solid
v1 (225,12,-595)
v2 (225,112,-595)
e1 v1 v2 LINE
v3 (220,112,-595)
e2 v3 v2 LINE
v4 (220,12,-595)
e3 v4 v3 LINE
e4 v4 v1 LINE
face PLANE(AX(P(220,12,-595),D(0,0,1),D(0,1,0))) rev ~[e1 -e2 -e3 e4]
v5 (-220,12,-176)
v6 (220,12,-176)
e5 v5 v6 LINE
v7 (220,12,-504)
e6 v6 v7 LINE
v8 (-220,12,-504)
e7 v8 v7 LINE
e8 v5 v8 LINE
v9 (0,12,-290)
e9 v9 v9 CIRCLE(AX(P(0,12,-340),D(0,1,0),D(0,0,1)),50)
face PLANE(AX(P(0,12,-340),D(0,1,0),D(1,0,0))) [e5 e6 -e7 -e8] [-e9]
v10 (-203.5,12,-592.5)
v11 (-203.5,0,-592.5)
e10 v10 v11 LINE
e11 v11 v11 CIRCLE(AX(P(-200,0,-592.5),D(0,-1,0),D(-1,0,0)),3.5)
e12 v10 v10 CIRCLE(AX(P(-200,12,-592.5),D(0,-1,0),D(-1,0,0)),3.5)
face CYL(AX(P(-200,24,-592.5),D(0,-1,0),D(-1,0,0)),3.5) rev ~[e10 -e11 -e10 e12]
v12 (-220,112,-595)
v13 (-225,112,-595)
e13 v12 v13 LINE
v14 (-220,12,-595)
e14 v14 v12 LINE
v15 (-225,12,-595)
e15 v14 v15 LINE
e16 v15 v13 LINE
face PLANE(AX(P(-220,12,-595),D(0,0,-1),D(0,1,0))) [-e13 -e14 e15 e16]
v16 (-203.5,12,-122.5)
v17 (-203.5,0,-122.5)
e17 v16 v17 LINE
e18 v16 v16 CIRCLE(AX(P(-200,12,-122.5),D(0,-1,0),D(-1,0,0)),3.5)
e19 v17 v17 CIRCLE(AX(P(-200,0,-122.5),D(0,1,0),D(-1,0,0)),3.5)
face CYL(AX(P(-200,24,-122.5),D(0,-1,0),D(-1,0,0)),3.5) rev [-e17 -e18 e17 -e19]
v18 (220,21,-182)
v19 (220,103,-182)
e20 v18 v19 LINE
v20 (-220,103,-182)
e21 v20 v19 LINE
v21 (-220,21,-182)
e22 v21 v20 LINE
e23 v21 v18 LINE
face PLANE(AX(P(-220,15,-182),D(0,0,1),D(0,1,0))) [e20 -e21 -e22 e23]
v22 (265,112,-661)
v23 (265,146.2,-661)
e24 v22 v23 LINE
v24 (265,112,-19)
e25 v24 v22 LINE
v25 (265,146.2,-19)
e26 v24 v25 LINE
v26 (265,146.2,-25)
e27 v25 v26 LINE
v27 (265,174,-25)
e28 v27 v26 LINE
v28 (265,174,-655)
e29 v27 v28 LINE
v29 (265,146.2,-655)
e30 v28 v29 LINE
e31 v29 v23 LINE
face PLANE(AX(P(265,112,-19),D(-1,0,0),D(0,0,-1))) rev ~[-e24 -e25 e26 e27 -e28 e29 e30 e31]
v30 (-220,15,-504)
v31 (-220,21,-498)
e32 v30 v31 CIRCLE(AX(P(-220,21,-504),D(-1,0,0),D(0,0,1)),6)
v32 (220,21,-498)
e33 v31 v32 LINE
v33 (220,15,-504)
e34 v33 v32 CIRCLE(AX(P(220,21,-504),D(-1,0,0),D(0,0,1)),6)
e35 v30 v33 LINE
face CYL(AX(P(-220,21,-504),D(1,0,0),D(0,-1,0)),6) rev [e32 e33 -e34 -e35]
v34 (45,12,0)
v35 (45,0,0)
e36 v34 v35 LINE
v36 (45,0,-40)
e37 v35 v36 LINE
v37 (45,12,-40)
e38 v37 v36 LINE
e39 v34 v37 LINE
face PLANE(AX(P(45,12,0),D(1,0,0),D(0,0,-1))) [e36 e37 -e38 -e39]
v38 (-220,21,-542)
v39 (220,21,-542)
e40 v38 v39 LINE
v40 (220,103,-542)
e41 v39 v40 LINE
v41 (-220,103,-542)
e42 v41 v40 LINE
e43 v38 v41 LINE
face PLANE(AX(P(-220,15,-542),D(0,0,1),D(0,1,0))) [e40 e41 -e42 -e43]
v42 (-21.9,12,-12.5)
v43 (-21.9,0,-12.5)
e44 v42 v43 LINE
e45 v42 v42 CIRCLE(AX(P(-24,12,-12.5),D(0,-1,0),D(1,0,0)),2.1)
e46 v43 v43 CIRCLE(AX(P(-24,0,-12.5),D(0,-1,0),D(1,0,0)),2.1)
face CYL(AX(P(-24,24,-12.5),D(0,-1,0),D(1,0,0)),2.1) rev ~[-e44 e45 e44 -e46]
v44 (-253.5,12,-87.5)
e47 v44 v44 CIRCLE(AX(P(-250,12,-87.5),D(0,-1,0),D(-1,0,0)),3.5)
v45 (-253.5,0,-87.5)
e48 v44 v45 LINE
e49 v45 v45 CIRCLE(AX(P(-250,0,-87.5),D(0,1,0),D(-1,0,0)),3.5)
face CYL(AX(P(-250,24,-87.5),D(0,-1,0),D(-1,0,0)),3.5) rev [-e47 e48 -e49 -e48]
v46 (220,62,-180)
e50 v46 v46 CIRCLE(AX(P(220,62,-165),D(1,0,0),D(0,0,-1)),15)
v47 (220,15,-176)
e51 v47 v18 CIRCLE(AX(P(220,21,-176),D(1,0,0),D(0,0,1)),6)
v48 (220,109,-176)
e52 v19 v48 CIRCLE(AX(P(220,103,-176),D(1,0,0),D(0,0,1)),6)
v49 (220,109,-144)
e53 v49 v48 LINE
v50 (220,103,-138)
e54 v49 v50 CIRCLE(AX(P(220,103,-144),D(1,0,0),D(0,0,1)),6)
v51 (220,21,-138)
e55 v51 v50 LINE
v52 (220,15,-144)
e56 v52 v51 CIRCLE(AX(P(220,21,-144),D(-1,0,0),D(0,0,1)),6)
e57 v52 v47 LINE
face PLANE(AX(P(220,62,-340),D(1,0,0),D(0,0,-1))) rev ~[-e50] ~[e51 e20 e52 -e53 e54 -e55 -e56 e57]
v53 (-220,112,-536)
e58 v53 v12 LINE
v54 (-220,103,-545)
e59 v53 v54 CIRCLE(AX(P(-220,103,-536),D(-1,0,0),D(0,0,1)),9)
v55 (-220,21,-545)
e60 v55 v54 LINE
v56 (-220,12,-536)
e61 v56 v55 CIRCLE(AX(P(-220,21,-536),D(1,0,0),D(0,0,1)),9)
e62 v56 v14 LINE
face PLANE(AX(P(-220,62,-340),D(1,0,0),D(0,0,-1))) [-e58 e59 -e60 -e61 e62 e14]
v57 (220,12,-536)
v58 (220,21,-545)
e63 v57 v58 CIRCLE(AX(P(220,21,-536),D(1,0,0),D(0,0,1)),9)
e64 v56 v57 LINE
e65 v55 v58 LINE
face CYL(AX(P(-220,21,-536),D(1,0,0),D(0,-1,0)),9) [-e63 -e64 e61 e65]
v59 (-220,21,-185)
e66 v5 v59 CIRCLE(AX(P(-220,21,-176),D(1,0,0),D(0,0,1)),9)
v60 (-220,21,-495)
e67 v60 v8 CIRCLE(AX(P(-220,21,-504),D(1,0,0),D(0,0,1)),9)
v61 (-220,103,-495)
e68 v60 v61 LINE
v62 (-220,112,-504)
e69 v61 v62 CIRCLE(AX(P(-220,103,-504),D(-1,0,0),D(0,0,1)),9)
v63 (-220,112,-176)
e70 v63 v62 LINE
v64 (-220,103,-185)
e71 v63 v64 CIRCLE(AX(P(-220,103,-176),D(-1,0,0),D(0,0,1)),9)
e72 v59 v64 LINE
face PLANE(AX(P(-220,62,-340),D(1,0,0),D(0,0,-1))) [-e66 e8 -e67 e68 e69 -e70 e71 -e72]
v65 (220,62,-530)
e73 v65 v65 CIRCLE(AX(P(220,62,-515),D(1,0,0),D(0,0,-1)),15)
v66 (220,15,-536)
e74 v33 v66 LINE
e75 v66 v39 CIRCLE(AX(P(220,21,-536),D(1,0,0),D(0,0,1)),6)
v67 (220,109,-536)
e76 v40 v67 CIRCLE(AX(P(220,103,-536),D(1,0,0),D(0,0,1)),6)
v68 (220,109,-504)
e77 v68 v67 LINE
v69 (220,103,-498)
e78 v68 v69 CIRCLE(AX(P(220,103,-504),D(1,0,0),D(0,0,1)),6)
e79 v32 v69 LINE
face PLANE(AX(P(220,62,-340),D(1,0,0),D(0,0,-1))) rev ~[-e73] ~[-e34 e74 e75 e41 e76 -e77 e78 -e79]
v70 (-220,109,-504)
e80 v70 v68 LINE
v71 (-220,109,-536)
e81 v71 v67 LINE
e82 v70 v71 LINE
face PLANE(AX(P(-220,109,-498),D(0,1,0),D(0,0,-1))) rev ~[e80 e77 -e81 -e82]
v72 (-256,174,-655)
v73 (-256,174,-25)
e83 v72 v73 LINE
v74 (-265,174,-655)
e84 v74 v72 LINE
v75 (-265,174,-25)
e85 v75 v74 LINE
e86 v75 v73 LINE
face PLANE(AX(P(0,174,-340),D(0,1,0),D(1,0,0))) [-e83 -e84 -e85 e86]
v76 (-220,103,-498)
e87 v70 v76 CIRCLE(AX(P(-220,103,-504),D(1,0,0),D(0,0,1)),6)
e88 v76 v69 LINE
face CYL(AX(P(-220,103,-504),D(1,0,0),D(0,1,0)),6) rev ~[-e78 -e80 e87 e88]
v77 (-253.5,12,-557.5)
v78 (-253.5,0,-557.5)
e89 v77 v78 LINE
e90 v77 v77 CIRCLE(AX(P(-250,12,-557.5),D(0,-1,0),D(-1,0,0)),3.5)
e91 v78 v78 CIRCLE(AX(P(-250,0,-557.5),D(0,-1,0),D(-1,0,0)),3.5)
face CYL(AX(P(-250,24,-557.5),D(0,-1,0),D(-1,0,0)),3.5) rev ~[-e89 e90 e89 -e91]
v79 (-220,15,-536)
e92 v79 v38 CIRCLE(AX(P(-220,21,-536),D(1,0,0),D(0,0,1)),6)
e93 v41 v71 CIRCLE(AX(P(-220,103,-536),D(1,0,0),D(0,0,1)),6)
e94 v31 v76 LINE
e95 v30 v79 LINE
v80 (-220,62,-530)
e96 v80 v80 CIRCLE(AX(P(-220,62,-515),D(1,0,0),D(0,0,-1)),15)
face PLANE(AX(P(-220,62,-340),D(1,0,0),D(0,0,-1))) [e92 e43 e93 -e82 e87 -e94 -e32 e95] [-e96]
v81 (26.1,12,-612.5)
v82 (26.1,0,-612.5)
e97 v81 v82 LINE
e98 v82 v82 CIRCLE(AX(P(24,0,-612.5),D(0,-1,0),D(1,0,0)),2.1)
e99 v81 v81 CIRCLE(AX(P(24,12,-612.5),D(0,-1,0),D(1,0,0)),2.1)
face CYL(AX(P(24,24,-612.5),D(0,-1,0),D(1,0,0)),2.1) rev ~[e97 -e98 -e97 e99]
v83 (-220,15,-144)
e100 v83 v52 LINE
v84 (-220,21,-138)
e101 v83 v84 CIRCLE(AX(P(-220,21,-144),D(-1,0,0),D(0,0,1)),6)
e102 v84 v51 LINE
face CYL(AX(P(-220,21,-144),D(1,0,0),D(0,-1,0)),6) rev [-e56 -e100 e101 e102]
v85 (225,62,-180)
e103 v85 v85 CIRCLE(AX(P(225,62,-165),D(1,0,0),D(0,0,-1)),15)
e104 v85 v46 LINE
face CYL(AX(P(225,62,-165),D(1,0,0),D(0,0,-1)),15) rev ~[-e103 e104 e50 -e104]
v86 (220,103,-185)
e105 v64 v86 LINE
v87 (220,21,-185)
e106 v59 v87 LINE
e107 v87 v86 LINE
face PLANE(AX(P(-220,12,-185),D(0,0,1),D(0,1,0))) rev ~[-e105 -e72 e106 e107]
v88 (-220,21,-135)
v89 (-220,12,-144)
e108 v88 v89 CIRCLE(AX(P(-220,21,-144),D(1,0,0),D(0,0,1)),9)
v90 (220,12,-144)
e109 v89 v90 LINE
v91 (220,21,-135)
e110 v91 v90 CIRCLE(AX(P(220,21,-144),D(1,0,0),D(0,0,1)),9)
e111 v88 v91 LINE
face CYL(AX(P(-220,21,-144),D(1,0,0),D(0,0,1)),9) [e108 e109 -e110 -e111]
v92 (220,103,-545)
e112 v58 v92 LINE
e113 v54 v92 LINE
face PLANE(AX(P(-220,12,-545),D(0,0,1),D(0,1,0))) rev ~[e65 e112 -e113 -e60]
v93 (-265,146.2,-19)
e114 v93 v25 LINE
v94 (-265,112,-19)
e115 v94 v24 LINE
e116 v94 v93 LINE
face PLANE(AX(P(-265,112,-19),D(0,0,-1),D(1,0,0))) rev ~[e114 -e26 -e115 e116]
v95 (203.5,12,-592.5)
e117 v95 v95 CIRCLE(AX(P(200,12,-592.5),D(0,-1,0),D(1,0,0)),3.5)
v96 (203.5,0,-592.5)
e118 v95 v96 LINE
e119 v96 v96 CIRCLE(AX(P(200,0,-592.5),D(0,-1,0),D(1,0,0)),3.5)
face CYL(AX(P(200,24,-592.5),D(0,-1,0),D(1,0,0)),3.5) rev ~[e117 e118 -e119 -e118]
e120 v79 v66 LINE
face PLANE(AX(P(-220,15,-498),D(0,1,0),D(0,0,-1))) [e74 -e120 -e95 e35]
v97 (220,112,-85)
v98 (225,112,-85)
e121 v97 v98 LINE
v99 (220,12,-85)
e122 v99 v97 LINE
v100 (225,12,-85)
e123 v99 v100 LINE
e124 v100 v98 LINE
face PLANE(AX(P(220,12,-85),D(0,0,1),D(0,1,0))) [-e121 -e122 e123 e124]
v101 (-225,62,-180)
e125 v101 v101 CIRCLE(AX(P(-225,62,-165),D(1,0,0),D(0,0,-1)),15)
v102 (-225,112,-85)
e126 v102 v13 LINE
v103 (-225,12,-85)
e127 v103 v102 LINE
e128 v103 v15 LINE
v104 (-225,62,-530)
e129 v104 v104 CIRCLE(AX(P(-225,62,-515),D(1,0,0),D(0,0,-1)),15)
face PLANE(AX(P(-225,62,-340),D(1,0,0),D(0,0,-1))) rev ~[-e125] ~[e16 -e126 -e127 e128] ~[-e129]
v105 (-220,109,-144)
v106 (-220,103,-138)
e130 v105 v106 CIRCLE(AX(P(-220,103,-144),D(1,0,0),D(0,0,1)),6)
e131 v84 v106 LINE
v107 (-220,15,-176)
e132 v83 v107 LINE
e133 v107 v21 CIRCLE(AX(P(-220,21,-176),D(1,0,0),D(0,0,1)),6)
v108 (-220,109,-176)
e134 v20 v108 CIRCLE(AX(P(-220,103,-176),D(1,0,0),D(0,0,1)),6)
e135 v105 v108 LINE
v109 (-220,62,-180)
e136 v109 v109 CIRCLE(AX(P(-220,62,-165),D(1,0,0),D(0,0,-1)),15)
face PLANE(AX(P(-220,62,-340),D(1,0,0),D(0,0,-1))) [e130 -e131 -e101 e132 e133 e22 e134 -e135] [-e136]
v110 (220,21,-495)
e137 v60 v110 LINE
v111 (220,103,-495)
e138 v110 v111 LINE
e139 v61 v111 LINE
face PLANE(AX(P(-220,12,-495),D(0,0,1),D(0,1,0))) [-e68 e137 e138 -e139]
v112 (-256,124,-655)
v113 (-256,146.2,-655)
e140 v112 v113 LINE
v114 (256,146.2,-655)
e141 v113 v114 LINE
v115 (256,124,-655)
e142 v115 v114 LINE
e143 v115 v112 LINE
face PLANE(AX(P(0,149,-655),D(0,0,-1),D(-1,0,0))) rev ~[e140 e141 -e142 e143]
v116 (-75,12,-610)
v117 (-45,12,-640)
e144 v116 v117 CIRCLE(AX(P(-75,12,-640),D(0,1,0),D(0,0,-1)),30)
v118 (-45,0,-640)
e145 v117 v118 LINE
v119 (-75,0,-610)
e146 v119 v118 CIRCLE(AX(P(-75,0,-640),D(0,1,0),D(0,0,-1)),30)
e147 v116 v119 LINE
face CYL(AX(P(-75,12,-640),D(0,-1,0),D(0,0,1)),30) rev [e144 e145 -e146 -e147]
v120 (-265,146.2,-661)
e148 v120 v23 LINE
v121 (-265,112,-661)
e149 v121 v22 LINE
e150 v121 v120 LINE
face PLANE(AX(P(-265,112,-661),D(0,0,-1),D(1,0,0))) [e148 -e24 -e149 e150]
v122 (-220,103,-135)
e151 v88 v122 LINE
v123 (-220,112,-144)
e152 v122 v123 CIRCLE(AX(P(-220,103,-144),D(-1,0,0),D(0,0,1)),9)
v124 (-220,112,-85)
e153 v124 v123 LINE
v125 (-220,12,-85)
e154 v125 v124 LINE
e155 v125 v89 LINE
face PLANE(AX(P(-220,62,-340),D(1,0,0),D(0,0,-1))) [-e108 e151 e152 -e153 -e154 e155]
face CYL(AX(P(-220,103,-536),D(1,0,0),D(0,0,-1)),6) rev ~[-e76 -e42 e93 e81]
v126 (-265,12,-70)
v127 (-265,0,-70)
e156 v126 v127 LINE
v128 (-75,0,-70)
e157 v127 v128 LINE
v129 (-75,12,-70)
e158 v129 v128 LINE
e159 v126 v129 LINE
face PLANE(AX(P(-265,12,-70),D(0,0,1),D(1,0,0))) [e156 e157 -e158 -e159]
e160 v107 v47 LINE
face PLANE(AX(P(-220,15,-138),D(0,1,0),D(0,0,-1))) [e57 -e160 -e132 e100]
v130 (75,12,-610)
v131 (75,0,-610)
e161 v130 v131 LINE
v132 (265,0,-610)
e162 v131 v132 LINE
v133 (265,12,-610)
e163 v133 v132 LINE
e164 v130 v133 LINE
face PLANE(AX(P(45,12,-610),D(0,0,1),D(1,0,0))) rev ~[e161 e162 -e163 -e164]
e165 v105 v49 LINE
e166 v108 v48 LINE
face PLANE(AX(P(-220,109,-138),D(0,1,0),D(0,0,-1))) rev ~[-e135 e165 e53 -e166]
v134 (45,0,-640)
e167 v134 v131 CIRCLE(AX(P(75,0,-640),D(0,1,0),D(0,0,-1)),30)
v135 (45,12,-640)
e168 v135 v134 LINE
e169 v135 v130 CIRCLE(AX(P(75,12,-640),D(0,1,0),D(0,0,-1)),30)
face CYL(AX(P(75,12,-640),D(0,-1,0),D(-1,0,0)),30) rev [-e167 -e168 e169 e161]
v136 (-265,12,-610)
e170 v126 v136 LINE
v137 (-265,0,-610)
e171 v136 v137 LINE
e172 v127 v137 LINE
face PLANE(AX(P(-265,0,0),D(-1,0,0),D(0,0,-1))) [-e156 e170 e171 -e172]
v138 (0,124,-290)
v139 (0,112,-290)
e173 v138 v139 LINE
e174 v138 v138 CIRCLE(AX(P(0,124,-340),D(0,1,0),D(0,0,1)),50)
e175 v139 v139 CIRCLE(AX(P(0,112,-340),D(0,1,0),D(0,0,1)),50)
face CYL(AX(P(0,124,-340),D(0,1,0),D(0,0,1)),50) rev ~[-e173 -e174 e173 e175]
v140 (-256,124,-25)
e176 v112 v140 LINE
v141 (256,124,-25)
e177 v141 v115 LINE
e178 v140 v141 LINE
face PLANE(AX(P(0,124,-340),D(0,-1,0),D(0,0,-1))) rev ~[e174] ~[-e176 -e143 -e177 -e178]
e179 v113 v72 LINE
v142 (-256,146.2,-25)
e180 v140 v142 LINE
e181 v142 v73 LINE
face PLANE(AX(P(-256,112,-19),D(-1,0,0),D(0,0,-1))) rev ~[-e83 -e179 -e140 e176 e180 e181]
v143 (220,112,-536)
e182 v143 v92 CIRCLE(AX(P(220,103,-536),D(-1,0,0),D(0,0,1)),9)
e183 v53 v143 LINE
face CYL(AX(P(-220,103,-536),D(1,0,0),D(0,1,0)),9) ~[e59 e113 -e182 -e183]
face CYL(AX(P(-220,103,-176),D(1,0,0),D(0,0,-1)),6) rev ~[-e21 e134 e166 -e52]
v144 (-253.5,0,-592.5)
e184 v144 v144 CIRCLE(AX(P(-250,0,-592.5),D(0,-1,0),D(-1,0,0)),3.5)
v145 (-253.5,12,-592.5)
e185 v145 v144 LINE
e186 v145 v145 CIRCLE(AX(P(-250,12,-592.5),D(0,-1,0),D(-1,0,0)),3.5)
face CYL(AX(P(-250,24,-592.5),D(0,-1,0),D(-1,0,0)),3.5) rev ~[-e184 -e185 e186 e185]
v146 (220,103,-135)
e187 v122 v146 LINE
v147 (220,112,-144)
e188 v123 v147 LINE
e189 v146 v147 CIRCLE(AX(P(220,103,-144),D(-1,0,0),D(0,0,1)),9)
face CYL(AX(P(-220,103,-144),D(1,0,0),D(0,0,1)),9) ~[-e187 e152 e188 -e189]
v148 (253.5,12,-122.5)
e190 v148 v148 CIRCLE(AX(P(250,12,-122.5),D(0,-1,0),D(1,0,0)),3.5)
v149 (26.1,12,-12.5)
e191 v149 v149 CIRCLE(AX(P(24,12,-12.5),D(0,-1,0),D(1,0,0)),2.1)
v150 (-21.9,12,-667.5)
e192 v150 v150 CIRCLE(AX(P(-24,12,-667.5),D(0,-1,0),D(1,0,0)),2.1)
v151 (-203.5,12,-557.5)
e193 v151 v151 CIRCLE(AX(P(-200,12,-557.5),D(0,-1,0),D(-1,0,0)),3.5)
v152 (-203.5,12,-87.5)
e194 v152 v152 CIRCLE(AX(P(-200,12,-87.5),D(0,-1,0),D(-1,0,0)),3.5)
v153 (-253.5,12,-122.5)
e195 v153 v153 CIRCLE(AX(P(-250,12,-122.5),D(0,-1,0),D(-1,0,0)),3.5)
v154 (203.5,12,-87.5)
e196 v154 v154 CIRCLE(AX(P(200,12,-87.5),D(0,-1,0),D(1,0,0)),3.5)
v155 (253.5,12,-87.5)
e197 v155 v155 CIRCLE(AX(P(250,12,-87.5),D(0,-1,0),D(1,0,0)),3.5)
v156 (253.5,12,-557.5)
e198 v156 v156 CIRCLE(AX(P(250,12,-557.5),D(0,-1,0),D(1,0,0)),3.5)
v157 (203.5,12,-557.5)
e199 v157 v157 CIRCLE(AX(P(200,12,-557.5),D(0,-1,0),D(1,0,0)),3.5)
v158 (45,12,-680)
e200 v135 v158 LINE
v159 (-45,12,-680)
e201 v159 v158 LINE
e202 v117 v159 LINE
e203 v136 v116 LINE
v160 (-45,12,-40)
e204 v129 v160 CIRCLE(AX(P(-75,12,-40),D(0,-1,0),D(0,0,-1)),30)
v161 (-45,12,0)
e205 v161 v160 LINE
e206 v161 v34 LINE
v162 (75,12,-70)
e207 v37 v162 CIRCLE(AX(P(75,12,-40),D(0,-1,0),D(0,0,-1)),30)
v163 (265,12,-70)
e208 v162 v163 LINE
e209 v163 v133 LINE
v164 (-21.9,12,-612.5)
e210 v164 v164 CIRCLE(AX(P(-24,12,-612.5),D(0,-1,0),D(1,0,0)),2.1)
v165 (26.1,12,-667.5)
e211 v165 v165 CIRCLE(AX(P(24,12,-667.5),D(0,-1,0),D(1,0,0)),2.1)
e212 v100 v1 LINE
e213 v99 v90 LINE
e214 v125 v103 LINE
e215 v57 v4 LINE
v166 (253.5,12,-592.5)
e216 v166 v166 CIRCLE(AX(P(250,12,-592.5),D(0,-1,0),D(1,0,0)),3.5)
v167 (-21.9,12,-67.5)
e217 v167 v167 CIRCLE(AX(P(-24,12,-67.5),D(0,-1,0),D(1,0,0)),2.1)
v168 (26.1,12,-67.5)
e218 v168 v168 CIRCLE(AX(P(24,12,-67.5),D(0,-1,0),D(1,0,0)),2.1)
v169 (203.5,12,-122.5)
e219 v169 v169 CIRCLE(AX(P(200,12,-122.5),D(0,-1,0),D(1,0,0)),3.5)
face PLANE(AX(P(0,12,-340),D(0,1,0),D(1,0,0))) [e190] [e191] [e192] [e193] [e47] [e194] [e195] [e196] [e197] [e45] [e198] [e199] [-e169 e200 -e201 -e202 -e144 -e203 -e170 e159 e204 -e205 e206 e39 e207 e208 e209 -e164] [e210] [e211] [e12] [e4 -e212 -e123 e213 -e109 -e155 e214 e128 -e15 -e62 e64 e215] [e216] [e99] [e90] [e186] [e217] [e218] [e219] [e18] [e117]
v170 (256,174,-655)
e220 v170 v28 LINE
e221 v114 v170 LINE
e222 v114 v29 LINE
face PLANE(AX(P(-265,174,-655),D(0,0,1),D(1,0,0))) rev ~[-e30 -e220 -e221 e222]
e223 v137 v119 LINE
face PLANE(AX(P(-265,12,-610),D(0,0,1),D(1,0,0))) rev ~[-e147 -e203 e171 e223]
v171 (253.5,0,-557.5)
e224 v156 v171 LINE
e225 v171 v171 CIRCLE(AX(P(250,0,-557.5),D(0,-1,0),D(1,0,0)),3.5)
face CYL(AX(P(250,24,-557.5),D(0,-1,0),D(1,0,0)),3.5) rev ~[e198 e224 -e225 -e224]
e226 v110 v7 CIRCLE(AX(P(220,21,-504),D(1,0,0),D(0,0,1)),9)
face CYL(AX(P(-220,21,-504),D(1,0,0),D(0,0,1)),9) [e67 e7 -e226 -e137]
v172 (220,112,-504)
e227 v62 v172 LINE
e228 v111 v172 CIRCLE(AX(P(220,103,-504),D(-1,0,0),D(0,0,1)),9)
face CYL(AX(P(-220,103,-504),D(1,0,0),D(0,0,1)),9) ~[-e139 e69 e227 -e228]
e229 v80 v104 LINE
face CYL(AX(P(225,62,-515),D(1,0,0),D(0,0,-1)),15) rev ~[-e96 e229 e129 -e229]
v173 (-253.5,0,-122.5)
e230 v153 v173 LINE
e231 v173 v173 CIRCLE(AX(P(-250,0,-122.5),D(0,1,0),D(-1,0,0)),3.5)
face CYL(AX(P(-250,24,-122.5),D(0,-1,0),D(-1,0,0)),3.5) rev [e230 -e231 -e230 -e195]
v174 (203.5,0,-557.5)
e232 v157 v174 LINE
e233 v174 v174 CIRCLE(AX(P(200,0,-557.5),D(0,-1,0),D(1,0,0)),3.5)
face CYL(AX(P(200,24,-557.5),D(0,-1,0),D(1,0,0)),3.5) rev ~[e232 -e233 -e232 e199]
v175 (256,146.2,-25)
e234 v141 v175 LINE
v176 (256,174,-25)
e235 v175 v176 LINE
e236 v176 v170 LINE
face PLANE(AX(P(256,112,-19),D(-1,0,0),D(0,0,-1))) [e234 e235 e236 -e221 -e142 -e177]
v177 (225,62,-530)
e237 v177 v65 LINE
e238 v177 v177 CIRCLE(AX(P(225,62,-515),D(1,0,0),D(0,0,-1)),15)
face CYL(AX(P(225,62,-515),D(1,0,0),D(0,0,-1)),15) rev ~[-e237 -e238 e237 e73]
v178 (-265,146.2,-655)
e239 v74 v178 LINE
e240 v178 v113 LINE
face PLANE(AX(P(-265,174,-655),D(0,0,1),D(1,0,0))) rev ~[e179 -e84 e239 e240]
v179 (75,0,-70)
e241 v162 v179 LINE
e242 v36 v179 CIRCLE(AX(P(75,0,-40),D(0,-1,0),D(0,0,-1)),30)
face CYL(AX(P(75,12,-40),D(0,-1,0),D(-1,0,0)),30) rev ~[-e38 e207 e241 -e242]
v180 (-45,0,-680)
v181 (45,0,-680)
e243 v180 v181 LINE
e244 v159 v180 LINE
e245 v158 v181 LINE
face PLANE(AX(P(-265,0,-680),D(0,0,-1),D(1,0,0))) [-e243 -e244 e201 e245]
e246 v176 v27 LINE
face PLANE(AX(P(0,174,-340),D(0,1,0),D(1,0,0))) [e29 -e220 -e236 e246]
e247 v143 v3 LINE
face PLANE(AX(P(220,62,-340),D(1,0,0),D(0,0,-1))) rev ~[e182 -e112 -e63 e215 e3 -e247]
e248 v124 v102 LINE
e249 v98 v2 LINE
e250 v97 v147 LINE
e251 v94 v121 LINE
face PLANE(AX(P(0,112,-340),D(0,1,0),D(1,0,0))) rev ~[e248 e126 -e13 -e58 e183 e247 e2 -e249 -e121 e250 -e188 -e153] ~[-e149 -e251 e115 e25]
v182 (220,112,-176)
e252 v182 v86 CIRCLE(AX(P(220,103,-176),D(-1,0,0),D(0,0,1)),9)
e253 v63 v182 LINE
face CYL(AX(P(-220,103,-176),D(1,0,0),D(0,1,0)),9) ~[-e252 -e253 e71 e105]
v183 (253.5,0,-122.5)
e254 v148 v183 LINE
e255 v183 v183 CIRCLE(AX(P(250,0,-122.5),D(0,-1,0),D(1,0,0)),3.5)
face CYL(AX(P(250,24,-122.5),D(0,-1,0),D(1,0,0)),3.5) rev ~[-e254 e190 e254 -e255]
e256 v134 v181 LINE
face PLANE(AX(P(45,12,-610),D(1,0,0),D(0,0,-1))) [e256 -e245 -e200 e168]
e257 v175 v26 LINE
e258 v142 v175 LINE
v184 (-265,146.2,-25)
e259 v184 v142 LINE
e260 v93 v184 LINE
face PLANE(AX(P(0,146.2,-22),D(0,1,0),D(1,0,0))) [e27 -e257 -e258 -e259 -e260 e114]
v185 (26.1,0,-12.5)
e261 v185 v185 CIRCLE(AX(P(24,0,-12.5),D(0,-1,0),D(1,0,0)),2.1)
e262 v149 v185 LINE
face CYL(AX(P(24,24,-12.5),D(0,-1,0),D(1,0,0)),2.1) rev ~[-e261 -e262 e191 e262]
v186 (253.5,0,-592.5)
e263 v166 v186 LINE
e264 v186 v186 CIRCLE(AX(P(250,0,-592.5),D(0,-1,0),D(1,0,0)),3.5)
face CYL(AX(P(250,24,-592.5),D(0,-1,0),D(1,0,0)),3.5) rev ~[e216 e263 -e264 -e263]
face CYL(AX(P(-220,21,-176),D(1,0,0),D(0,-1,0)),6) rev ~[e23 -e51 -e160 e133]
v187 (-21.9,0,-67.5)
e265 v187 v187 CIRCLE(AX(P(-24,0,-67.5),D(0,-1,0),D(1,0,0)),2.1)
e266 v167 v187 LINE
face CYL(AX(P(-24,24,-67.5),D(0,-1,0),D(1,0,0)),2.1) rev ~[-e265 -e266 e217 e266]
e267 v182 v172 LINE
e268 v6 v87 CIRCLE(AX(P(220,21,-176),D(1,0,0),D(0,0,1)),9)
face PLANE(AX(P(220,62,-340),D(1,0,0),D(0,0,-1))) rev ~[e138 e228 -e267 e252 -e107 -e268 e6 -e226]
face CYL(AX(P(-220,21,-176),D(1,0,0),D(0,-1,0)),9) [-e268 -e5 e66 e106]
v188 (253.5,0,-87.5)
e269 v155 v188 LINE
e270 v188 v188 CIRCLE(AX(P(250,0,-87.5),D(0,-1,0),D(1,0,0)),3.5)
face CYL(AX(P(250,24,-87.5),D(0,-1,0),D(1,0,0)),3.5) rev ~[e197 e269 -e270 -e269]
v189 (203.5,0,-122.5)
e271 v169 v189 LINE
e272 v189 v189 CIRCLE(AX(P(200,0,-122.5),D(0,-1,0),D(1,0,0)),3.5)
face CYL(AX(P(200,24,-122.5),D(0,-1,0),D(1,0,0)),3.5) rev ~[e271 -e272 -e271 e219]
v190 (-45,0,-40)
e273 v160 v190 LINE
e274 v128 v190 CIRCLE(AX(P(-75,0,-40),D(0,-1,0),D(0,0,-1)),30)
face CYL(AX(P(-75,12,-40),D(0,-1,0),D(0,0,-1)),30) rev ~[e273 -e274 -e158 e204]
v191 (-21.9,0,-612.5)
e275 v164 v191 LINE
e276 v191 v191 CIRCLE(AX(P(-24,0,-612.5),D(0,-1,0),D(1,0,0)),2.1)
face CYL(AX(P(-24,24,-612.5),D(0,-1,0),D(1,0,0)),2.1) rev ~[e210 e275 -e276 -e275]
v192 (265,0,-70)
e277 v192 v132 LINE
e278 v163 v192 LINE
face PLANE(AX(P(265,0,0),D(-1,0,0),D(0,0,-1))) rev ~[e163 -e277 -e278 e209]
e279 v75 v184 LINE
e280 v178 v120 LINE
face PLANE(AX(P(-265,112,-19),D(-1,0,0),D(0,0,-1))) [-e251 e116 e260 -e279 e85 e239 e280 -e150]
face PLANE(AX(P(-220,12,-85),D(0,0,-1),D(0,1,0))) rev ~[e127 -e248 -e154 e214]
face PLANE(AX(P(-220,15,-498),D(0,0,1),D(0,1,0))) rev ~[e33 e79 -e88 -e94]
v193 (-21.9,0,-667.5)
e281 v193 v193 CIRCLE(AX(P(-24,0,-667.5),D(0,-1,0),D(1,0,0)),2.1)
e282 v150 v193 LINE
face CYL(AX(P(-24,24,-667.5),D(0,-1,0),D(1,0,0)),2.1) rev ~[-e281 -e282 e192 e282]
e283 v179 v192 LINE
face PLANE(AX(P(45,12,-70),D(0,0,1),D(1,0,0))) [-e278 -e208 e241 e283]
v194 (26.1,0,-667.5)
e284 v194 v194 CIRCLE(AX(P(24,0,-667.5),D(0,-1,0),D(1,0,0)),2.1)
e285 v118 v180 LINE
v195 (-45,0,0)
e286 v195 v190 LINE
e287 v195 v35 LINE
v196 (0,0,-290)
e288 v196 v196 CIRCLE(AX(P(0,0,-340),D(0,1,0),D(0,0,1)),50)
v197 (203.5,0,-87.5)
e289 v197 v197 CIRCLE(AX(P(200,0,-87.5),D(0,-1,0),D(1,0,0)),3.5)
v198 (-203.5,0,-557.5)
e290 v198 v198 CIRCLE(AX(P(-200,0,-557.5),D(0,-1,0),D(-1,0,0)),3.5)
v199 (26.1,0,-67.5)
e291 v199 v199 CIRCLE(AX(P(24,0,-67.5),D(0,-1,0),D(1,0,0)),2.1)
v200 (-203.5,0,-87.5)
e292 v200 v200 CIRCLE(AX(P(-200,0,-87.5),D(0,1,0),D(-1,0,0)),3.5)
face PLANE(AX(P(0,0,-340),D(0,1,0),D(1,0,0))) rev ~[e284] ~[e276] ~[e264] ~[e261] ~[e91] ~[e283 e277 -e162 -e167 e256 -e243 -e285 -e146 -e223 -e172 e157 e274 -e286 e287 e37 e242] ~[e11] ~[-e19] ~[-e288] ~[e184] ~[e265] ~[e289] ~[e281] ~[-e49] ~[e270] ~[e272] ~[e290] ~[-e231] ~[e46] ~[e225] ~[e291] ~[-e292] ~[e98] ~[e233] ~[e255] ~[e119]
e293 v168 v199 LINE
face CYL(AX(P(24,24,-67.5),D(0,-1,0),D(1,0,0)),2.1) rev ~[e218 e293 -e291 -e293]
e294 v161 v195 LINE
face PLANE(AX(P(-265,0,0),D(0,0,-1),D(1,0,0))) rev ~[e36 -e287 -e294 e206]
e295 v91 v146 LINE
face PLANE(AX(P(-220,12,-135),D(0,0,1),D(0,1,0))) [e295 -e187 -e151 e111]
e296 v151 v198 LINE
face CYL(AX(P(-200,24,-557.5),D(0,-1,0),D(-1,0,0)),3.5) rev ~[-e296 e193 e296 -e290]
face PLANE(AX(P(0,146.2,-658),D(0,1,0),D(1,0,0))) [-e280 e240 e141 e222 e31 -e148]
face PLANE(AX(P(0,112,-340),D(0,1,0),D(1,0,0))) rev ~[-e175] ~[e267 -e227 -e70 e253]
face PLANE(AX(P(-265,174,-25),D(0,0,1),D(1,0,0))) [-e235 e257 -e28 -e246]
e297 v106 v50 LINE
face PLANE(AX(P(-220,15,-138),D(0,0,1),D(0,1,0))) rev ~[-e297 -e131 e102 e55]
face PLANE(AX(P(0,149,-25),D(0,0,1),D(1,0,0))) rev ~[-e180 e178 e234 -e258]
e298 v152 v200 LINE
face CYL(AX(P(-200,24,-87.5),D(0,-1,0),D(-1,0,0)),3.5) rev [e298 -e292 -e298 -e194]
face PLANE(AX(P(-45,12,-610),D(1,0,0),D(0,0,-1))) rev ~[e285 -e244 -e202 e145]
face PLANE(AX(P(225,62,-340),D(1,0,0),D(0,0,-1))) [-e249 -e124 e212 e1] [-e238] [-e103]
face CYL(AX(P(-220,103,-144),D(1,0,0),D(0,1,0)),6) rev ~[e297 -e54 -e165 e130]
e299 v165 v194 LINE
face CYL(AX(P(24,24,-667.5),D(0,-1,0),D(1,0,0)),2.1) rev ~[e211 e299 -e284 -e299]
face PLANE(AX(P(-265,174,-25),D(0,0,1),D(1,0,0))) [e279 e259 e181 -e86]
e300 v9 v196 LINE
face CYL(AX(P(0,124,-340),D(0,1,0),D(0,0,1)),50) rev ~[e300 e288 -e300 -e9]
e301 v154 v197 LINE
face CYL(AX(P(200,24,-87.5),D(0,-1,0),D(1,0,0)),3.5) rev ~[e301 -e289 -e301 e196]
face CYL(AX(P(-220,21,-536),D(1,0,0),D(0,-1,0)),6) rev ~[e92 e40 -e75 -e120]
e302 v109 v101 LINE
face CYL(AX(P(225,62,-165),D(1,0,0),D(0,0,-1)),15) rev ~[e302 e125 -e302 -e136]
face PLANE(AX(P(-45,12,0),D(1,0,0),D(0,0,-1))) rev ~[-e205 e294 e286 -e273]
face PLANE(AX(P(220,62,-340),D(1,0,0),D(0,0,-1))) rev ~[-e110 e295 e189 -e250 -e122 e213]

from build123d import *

# Parameters (mm, degrees)
SKETCH1_W                    = 530
SKETCH1_H                    = 680
BOSS_EXTRUDE1_DEPTH          = 12
BOSS_EXTRUDE2_START          = 220
SKETCH2_W                    = 510
SKETCH2_H                    = 100
BOSS_EXTRUDE2_DEPTH          = 5
BOSS_EXTRUDE3_START          = -220
SKETCH3_W                    = 510
SKETCH3_H                    = 100
BOSS_EXTRUDE3_DEPTH          = 5
SKETCH4_W                    = 50
SKETCH4_H                    = 100
SKETCH4_W_2                  = 44
SKETCH4_H_2                  = 94
EXTRUDE_THIN1_DEPTH          = 440
EXTRUDE_THIN1_2_DEPTH        = 440
SKETCH5_W                    = 530
SKETCH5_H                    = 642
BOSS_EXTRUDE4_DEPTH          = 62
SHELL1_T                     = -9
SHELL1_THICKNESS_2_FACE_W    = 624
SHELL1_THICKNESS_2_FACE_H    = 512
SHELL1_THICKNESS_2_DEPTH     = 3
SHELL1_THICKNESS_3_FACE_W    = 512
SHELL1_THICKNESS_3_FACE_H    = 50
SHELL1_THICKNESS_3_DEPTH     = 3
SHELL1_THICKNESS_4_FACE_W    = 512
SHELL1_THICKNESS_4_FACE_H    = 50
SHELL1_THICKNESS_4_DEPTH     = 3
FILLET1_R                    = 6
FILLET2_R                    = 9
FILLET3_R                    = 6
FILLET4_R                    = 9
SKETCH6_W                    = 530
SKETCH6_H                    = 6
CUT_EXTRUDE1_DEPTH           = 27.8
SKETCH7_W                    = 220
SKETCH7_H                    = 70
CUT_EXTRUDE2_DEPTH           = 748.575414256
SKETCH8_R                    = 50
CUT_EXTRUDE3_DEPTH           = 741.270896362
SKETCH9_R                    = 15
CUT_EXTRUDE4_DEPTH           = 857.023364167
M5X0_8_TAPPED_HOLE1_D        = 4.2
M5X0_8_TAPPED_HOLE1_DEPTH    = 12
LPATTERN1_COUNT              = 2
LPATTERN1_PITCH              = 600
F_7_0_7_DIAMETER_HOLE1_D     = 7
F_7_0_7_DIAMETER_HOLE1_DEPTH = 12
LPATTERN2_COUNT              = 2
LPATTERN2_PITCH              = 470
LPATTERN2_COPY_1_D           = 7
LPATTERN2_COPY_1_DEPTH       = 12
FILLET5_R                    = 30


with BuildPart() as part:
    # Sketch1 → Boss-Extrude1 (new body)
    with BuildSketch(Plane(origin=(0, 0, 0), x_dir=(1, 0, 0), z_dir=(0, 1, 0))):
        with Locations((0, 340)):
            Rectangle(SKETCH1_W, SKETCH1_H)
    extrude(amount=BOSS_EXTRUDE1_DEPTH)

    # Sketch2 → Boss-Extrude2 (add)
    with BuildSketch(Plane(origin=(0, 0, 0), x_dir=(0, 0, -1), z_dir=(1, 0, 0)).offset(BOSS_EXTRUDE2_START)):
        with Locations((340, 62)):
            Rectangle(SKETCH2_W, SKETCH2_H)
    extrude(amount=BOSS_EXTRUDE2_DEPTH)

    # Sketch3 → Boss-Extrude3 (add)
    with BuildSketch(Plane(origin=(0, 0, 0), x_dir=(0, 0, -1), z_dir=(1, 0, 0)).offset(BOSS_EXTRUDE3_START)):
        with Locations((340, 62)):
            Rectangle(SKETCH3_W, SKETCH3_H)
    extrude(amount=-BOSS_EXTRUDE3_DEPTH)


with BuildPart() as body_2:
    # Sketch4 → Extrude-Thin1 (new body)
    with BuildSketch(Plane(origin=(-220, 0, 0), x_dir=(0, 0, -1), z_dir=(1, 0, 0))):
        with Locations((160, 62)):
            Rectangle(SKETCH4_W, SKETCH4_H)
        with Locations((160, 62)):
            Rectangle(SKETCH4_W_2, SKETCH4_H_2, mode=Mode.SUBTRACT)
    extrude(amount=EXTRUDE_THIN1_DEPTH)

    # Fillet1
    fillet1_edges = [body_2.edges().sort_by_distance(p)[0] for p in [
        (0, 109, -182),
        (0, 109, -138),
        (0, 15, -182),
        (0, 15, -138),
    ]]
    fillet(fillet1_edges, radius=FILLET1_R)

    # Fillet2
    fillet2_edges = [body_2.edges().sort_by_distance(p)[0] for p in [
        (0, 112, -135),
        (0, 112, -185),
        (0, 12, -185),
        (0, 12, -135),
    ]]
    fillet(fillet2_edges, radius=FILLET2_R)


with BuildPart() as body_3:
    # Sketch4 → Extrude-Thin1 2 (new body)
    with BuildSketch(Plane(origin=(-220, 0, 0), x_dir=(0, 0, -1), z_dir=(1, 0, 0))):
        with Locations((520, 62)):
            Rectangle(SKETCH4_W, SKETCH4_H)
        with Locations((520, 62)):
            Rectangle(SKETCH4_W_2, SKETCH4_H_2, mode=Mode.SUBTRACT)
    extrude(amount=EXTRUDE_THIN1_2_DEPTH)

    # Fillet3
    fillet3_edges = [body_3.edges().sort_by_distance(p)[0] for p in [
        (0, 109, -542),
        (0, 109, -498),
        (0, 15, -542),
        (0, 15, -498),
    ]]
    fillet(fillet3_edges, radius=FILLET3_R)

    # Fillet4
    fillet4_edges = [body_3.edges().sort_by_distance(p)[0] for p in [
        (0, 112, -495),
        (0, 112, -545),
        (0, 12, -545),
        (0, 12, -495),
    ]]
    fillet(fillet4_edges, radius=FILLET4_R)


with BuildPart() as body_4:
    # Sketch5 → Boss-Extrude4 (new body)
    with BuildSketch(Plane(origin=(0, 112, 0), x_dir=(1, 0, 0), z_dir=(0, 1, 0))):
        with Locations((0, 340)):
            Rectangle(SKETCH5_W, SKETCH5_H)
    extrude(amount=BOSS_EXTRUDE4_DEPTH)

    # Shell1
    shell1_openings = [body_4.faces().sort_by_distance(p)[0] for p in [
        (0, 174, -340),
    ]]
    offset(amount=SHELL1_T, openings=shell1_openings, kind=Kind.INTERSECTION)

    # Shell1 thickness 2 face (on inner face of the shell) → Shell1 thickness 2 (add)
    with BuildSketch(Plane(origin=(0, 121, -340), x_dir=(0, 0, -1), z_dir=(0, -1, 0))):
        Rectangle(SHELL1_THICKNESS_2_FACE_W, SHELL1_THICKNESS_2_FACE_H)
    extrude(amount=-SHELL1_THICKNESS_2_DEPTH)

    # Shell1 thickness 3 face (on inner face of the shell) → Shell1 thickness 3 (cut)
    with BuildSketch(Plane(origin=(0, 149, -28), x_dir=(1, 0, 0), z_dir=(0, 0, 1))):
        Rectangle(SHELL1_THICKNESS_3_FACE_W, SHELL1_THICKNESS_3_FACE_H)
    extrude(amount=SHELL1_THICKNESS_3_DEPTH, mode=Mode.SUBTRACT)

    # Shell1 thickness 4 face (on inner face of the shell) → Shell1 thickness 4 (cut)
    with BuildSketch(Plane(origin=(0, 149, -652), x_dir=(-1, 0, 0), z_dir=(0, 0, -1))):
        Rectangle(SHELL1_THICKNESS_4_FACE_W, SHELL1_THICKNESS_4_FACE_H)
    extrude(amount=SHELL1_THICKNESS_4_DEPTH, mode=Mode.SUBTRACT)

    # Combine1: union body 2, body 3, part
    add(body_2.part)
    add(body_3.part)
    add(part.part)

    # Sketch6 → Cut-Extrude1 (cut)
    with BuildSketch(Plane(origin=(0, 174, 0), x_dir=(1, 0, 0), z_dir=(0, 1, 0))):
        with Locations((0, 22)):
            Rectangle(SKETCH6_W, SKETCH6_H)
        with Locations((0, 658)):
            Rectangle(SKETCH6_W, SKETCH6_H)
    extrude(amount=-CUT_EXTRUDE1_DEPTH, mode=Mode.SUBTRACT)

    # Sketch7 → Cut-Extrude2 (cut, through all)
    with BuildSketch(Plane(origin=(0, 12, 0), x_dir=(1, 0, 0), z_dir=(0, 1, 0))):
        with Locations((-155, 35)):
            Rectangle(SKETCH7_W, SKETCH7_H)
        with Locations((155, 35)):
            Rectangle(SKETCH7_W, SKETCH7_H)
        with Locations((155, 645)):
            Rectangle(SKETCH7_W, SKETCH7_H)
        with Locations((-155, 645)):
            Rectangle(SKETCH7_W, SKETCH7_H)
    extrude(amount=-CUT_EXTRUDE2_DEPTH, mode=Mode.SUBTRACT)

    # Sketch8 → Cut-Extrude3 (cut, through all)
    with BuildSketch(Plane(origin=(0, 124, 0), x_dir=(1, 0, 0), z_dir=(0, 1, 0))):
        with Locations(Location((0, 340, 0), (0, 0, 270))):
            Circle(SKETCH8_R)
    extrude(amount=-CUT_EXTRUDE3_DEPTH, mode=Mode.SUBTRACT)

    # Sketch9 → Cut-Extrude4 (cut, through all)
    with BuildSketch(Plane(origin=(225, 0, 0), x_dir=(0, 0, -1), z_dir=(1, 0, 0))):
        with Locations((165, 62)):
            Circle(SKETCH9_R)
        with Locations((515, 62)):
            Circle(SKETCH9_R)
    extrude(amount=-CUT_EXTRUDE4_DEPTH, mode=Mode.SUBTRACT)

    # M5x0.8 Tapped Hole1
    with Locations(Plane(origin=(0, 12, 0), x_dir=(-1, 0, 0), z_dir=(0, 1, 0))):
        with Locations((-24, -12.5), (24, -12.5), (-24, -67.5), (24, -67.5)):
            m5x0_8_tapped_hole1 = Hole(M5X0_8_TAPPED_HOLE1_D / 2, depth=M5X0_8_TAPPED_HOLE1_DEPTH)

    # LPattern1: M5x0.8 Tapped Hole1 ×2
    with Locations(*[(0, 0, -i * LPATTERN1_PITCH) for i in range(1, LPATTERN1_COUNT)]):
        add(m5x0_8_tapped_hole1, mode=Mode.SUBTRACT)

    # Ø7.0 (7) Diameter Hole1
    with Locations(Plane(origin=(0, 12, 0), x_dir=(-1, 0, 0), z_dir=(0, 1, 0))):
        with Locations((-200, -122.5), (-200, -87.5), (-250, -122.5), (-250, -87.5)):
            f_7_0_7_diameter_hole1 = Hole(F_7_0_7_DIAMETER_HOLE1_D / 2, depth=F_7_0_7_DIAMETER_HOLE1_DEPTH)

    # Mirror1: Ø7.0 (7) Diameter Hole1 across plane
    add(f_7_0_7_diameter_hole1.mirror(Plane(origin=(0, 0, 0), x_dir=(0, 0, 1), z_dir=(1, 0, 0))), mode=Mode.SUBTRACT)

    # LPattern2: Ø7.0 (7) Diameter Hole1 ×2
    with Locations(*[(0, 0, -i * LPATTERN2_PITCH) for i in range(1, LPATTERN2_COUNT)]):
        add(f_7_0_7_diameter_hole1, mode=Mode.SUBTRACT)

    # LPattern2 copy 1
    with Locations(Plane(origin=(0, 12, -470), x_dir=(1, 0, 0), z_dir=(0, 1, 0))):
        with Locations((-200, 122.5), (-200, 87.5), (-250, 122.5), (-250, 87.5)):
            Hole(LPATTERN2_COPY_1_D / 2, depth=LPATTERN2_COPY_1_DEPTH)

    # Fillet5
    fillet5_edges = [body_4.edges().sort_by_distance(p)[0] for p in [
        (-45, 6, -70),
        (45, 6, -70),
        (45, 6, -610),
        (-45, 6, -610),
    ]]
    fillet(fillet5_edges, radius=FILLET5_R)


solid = body_4.part
